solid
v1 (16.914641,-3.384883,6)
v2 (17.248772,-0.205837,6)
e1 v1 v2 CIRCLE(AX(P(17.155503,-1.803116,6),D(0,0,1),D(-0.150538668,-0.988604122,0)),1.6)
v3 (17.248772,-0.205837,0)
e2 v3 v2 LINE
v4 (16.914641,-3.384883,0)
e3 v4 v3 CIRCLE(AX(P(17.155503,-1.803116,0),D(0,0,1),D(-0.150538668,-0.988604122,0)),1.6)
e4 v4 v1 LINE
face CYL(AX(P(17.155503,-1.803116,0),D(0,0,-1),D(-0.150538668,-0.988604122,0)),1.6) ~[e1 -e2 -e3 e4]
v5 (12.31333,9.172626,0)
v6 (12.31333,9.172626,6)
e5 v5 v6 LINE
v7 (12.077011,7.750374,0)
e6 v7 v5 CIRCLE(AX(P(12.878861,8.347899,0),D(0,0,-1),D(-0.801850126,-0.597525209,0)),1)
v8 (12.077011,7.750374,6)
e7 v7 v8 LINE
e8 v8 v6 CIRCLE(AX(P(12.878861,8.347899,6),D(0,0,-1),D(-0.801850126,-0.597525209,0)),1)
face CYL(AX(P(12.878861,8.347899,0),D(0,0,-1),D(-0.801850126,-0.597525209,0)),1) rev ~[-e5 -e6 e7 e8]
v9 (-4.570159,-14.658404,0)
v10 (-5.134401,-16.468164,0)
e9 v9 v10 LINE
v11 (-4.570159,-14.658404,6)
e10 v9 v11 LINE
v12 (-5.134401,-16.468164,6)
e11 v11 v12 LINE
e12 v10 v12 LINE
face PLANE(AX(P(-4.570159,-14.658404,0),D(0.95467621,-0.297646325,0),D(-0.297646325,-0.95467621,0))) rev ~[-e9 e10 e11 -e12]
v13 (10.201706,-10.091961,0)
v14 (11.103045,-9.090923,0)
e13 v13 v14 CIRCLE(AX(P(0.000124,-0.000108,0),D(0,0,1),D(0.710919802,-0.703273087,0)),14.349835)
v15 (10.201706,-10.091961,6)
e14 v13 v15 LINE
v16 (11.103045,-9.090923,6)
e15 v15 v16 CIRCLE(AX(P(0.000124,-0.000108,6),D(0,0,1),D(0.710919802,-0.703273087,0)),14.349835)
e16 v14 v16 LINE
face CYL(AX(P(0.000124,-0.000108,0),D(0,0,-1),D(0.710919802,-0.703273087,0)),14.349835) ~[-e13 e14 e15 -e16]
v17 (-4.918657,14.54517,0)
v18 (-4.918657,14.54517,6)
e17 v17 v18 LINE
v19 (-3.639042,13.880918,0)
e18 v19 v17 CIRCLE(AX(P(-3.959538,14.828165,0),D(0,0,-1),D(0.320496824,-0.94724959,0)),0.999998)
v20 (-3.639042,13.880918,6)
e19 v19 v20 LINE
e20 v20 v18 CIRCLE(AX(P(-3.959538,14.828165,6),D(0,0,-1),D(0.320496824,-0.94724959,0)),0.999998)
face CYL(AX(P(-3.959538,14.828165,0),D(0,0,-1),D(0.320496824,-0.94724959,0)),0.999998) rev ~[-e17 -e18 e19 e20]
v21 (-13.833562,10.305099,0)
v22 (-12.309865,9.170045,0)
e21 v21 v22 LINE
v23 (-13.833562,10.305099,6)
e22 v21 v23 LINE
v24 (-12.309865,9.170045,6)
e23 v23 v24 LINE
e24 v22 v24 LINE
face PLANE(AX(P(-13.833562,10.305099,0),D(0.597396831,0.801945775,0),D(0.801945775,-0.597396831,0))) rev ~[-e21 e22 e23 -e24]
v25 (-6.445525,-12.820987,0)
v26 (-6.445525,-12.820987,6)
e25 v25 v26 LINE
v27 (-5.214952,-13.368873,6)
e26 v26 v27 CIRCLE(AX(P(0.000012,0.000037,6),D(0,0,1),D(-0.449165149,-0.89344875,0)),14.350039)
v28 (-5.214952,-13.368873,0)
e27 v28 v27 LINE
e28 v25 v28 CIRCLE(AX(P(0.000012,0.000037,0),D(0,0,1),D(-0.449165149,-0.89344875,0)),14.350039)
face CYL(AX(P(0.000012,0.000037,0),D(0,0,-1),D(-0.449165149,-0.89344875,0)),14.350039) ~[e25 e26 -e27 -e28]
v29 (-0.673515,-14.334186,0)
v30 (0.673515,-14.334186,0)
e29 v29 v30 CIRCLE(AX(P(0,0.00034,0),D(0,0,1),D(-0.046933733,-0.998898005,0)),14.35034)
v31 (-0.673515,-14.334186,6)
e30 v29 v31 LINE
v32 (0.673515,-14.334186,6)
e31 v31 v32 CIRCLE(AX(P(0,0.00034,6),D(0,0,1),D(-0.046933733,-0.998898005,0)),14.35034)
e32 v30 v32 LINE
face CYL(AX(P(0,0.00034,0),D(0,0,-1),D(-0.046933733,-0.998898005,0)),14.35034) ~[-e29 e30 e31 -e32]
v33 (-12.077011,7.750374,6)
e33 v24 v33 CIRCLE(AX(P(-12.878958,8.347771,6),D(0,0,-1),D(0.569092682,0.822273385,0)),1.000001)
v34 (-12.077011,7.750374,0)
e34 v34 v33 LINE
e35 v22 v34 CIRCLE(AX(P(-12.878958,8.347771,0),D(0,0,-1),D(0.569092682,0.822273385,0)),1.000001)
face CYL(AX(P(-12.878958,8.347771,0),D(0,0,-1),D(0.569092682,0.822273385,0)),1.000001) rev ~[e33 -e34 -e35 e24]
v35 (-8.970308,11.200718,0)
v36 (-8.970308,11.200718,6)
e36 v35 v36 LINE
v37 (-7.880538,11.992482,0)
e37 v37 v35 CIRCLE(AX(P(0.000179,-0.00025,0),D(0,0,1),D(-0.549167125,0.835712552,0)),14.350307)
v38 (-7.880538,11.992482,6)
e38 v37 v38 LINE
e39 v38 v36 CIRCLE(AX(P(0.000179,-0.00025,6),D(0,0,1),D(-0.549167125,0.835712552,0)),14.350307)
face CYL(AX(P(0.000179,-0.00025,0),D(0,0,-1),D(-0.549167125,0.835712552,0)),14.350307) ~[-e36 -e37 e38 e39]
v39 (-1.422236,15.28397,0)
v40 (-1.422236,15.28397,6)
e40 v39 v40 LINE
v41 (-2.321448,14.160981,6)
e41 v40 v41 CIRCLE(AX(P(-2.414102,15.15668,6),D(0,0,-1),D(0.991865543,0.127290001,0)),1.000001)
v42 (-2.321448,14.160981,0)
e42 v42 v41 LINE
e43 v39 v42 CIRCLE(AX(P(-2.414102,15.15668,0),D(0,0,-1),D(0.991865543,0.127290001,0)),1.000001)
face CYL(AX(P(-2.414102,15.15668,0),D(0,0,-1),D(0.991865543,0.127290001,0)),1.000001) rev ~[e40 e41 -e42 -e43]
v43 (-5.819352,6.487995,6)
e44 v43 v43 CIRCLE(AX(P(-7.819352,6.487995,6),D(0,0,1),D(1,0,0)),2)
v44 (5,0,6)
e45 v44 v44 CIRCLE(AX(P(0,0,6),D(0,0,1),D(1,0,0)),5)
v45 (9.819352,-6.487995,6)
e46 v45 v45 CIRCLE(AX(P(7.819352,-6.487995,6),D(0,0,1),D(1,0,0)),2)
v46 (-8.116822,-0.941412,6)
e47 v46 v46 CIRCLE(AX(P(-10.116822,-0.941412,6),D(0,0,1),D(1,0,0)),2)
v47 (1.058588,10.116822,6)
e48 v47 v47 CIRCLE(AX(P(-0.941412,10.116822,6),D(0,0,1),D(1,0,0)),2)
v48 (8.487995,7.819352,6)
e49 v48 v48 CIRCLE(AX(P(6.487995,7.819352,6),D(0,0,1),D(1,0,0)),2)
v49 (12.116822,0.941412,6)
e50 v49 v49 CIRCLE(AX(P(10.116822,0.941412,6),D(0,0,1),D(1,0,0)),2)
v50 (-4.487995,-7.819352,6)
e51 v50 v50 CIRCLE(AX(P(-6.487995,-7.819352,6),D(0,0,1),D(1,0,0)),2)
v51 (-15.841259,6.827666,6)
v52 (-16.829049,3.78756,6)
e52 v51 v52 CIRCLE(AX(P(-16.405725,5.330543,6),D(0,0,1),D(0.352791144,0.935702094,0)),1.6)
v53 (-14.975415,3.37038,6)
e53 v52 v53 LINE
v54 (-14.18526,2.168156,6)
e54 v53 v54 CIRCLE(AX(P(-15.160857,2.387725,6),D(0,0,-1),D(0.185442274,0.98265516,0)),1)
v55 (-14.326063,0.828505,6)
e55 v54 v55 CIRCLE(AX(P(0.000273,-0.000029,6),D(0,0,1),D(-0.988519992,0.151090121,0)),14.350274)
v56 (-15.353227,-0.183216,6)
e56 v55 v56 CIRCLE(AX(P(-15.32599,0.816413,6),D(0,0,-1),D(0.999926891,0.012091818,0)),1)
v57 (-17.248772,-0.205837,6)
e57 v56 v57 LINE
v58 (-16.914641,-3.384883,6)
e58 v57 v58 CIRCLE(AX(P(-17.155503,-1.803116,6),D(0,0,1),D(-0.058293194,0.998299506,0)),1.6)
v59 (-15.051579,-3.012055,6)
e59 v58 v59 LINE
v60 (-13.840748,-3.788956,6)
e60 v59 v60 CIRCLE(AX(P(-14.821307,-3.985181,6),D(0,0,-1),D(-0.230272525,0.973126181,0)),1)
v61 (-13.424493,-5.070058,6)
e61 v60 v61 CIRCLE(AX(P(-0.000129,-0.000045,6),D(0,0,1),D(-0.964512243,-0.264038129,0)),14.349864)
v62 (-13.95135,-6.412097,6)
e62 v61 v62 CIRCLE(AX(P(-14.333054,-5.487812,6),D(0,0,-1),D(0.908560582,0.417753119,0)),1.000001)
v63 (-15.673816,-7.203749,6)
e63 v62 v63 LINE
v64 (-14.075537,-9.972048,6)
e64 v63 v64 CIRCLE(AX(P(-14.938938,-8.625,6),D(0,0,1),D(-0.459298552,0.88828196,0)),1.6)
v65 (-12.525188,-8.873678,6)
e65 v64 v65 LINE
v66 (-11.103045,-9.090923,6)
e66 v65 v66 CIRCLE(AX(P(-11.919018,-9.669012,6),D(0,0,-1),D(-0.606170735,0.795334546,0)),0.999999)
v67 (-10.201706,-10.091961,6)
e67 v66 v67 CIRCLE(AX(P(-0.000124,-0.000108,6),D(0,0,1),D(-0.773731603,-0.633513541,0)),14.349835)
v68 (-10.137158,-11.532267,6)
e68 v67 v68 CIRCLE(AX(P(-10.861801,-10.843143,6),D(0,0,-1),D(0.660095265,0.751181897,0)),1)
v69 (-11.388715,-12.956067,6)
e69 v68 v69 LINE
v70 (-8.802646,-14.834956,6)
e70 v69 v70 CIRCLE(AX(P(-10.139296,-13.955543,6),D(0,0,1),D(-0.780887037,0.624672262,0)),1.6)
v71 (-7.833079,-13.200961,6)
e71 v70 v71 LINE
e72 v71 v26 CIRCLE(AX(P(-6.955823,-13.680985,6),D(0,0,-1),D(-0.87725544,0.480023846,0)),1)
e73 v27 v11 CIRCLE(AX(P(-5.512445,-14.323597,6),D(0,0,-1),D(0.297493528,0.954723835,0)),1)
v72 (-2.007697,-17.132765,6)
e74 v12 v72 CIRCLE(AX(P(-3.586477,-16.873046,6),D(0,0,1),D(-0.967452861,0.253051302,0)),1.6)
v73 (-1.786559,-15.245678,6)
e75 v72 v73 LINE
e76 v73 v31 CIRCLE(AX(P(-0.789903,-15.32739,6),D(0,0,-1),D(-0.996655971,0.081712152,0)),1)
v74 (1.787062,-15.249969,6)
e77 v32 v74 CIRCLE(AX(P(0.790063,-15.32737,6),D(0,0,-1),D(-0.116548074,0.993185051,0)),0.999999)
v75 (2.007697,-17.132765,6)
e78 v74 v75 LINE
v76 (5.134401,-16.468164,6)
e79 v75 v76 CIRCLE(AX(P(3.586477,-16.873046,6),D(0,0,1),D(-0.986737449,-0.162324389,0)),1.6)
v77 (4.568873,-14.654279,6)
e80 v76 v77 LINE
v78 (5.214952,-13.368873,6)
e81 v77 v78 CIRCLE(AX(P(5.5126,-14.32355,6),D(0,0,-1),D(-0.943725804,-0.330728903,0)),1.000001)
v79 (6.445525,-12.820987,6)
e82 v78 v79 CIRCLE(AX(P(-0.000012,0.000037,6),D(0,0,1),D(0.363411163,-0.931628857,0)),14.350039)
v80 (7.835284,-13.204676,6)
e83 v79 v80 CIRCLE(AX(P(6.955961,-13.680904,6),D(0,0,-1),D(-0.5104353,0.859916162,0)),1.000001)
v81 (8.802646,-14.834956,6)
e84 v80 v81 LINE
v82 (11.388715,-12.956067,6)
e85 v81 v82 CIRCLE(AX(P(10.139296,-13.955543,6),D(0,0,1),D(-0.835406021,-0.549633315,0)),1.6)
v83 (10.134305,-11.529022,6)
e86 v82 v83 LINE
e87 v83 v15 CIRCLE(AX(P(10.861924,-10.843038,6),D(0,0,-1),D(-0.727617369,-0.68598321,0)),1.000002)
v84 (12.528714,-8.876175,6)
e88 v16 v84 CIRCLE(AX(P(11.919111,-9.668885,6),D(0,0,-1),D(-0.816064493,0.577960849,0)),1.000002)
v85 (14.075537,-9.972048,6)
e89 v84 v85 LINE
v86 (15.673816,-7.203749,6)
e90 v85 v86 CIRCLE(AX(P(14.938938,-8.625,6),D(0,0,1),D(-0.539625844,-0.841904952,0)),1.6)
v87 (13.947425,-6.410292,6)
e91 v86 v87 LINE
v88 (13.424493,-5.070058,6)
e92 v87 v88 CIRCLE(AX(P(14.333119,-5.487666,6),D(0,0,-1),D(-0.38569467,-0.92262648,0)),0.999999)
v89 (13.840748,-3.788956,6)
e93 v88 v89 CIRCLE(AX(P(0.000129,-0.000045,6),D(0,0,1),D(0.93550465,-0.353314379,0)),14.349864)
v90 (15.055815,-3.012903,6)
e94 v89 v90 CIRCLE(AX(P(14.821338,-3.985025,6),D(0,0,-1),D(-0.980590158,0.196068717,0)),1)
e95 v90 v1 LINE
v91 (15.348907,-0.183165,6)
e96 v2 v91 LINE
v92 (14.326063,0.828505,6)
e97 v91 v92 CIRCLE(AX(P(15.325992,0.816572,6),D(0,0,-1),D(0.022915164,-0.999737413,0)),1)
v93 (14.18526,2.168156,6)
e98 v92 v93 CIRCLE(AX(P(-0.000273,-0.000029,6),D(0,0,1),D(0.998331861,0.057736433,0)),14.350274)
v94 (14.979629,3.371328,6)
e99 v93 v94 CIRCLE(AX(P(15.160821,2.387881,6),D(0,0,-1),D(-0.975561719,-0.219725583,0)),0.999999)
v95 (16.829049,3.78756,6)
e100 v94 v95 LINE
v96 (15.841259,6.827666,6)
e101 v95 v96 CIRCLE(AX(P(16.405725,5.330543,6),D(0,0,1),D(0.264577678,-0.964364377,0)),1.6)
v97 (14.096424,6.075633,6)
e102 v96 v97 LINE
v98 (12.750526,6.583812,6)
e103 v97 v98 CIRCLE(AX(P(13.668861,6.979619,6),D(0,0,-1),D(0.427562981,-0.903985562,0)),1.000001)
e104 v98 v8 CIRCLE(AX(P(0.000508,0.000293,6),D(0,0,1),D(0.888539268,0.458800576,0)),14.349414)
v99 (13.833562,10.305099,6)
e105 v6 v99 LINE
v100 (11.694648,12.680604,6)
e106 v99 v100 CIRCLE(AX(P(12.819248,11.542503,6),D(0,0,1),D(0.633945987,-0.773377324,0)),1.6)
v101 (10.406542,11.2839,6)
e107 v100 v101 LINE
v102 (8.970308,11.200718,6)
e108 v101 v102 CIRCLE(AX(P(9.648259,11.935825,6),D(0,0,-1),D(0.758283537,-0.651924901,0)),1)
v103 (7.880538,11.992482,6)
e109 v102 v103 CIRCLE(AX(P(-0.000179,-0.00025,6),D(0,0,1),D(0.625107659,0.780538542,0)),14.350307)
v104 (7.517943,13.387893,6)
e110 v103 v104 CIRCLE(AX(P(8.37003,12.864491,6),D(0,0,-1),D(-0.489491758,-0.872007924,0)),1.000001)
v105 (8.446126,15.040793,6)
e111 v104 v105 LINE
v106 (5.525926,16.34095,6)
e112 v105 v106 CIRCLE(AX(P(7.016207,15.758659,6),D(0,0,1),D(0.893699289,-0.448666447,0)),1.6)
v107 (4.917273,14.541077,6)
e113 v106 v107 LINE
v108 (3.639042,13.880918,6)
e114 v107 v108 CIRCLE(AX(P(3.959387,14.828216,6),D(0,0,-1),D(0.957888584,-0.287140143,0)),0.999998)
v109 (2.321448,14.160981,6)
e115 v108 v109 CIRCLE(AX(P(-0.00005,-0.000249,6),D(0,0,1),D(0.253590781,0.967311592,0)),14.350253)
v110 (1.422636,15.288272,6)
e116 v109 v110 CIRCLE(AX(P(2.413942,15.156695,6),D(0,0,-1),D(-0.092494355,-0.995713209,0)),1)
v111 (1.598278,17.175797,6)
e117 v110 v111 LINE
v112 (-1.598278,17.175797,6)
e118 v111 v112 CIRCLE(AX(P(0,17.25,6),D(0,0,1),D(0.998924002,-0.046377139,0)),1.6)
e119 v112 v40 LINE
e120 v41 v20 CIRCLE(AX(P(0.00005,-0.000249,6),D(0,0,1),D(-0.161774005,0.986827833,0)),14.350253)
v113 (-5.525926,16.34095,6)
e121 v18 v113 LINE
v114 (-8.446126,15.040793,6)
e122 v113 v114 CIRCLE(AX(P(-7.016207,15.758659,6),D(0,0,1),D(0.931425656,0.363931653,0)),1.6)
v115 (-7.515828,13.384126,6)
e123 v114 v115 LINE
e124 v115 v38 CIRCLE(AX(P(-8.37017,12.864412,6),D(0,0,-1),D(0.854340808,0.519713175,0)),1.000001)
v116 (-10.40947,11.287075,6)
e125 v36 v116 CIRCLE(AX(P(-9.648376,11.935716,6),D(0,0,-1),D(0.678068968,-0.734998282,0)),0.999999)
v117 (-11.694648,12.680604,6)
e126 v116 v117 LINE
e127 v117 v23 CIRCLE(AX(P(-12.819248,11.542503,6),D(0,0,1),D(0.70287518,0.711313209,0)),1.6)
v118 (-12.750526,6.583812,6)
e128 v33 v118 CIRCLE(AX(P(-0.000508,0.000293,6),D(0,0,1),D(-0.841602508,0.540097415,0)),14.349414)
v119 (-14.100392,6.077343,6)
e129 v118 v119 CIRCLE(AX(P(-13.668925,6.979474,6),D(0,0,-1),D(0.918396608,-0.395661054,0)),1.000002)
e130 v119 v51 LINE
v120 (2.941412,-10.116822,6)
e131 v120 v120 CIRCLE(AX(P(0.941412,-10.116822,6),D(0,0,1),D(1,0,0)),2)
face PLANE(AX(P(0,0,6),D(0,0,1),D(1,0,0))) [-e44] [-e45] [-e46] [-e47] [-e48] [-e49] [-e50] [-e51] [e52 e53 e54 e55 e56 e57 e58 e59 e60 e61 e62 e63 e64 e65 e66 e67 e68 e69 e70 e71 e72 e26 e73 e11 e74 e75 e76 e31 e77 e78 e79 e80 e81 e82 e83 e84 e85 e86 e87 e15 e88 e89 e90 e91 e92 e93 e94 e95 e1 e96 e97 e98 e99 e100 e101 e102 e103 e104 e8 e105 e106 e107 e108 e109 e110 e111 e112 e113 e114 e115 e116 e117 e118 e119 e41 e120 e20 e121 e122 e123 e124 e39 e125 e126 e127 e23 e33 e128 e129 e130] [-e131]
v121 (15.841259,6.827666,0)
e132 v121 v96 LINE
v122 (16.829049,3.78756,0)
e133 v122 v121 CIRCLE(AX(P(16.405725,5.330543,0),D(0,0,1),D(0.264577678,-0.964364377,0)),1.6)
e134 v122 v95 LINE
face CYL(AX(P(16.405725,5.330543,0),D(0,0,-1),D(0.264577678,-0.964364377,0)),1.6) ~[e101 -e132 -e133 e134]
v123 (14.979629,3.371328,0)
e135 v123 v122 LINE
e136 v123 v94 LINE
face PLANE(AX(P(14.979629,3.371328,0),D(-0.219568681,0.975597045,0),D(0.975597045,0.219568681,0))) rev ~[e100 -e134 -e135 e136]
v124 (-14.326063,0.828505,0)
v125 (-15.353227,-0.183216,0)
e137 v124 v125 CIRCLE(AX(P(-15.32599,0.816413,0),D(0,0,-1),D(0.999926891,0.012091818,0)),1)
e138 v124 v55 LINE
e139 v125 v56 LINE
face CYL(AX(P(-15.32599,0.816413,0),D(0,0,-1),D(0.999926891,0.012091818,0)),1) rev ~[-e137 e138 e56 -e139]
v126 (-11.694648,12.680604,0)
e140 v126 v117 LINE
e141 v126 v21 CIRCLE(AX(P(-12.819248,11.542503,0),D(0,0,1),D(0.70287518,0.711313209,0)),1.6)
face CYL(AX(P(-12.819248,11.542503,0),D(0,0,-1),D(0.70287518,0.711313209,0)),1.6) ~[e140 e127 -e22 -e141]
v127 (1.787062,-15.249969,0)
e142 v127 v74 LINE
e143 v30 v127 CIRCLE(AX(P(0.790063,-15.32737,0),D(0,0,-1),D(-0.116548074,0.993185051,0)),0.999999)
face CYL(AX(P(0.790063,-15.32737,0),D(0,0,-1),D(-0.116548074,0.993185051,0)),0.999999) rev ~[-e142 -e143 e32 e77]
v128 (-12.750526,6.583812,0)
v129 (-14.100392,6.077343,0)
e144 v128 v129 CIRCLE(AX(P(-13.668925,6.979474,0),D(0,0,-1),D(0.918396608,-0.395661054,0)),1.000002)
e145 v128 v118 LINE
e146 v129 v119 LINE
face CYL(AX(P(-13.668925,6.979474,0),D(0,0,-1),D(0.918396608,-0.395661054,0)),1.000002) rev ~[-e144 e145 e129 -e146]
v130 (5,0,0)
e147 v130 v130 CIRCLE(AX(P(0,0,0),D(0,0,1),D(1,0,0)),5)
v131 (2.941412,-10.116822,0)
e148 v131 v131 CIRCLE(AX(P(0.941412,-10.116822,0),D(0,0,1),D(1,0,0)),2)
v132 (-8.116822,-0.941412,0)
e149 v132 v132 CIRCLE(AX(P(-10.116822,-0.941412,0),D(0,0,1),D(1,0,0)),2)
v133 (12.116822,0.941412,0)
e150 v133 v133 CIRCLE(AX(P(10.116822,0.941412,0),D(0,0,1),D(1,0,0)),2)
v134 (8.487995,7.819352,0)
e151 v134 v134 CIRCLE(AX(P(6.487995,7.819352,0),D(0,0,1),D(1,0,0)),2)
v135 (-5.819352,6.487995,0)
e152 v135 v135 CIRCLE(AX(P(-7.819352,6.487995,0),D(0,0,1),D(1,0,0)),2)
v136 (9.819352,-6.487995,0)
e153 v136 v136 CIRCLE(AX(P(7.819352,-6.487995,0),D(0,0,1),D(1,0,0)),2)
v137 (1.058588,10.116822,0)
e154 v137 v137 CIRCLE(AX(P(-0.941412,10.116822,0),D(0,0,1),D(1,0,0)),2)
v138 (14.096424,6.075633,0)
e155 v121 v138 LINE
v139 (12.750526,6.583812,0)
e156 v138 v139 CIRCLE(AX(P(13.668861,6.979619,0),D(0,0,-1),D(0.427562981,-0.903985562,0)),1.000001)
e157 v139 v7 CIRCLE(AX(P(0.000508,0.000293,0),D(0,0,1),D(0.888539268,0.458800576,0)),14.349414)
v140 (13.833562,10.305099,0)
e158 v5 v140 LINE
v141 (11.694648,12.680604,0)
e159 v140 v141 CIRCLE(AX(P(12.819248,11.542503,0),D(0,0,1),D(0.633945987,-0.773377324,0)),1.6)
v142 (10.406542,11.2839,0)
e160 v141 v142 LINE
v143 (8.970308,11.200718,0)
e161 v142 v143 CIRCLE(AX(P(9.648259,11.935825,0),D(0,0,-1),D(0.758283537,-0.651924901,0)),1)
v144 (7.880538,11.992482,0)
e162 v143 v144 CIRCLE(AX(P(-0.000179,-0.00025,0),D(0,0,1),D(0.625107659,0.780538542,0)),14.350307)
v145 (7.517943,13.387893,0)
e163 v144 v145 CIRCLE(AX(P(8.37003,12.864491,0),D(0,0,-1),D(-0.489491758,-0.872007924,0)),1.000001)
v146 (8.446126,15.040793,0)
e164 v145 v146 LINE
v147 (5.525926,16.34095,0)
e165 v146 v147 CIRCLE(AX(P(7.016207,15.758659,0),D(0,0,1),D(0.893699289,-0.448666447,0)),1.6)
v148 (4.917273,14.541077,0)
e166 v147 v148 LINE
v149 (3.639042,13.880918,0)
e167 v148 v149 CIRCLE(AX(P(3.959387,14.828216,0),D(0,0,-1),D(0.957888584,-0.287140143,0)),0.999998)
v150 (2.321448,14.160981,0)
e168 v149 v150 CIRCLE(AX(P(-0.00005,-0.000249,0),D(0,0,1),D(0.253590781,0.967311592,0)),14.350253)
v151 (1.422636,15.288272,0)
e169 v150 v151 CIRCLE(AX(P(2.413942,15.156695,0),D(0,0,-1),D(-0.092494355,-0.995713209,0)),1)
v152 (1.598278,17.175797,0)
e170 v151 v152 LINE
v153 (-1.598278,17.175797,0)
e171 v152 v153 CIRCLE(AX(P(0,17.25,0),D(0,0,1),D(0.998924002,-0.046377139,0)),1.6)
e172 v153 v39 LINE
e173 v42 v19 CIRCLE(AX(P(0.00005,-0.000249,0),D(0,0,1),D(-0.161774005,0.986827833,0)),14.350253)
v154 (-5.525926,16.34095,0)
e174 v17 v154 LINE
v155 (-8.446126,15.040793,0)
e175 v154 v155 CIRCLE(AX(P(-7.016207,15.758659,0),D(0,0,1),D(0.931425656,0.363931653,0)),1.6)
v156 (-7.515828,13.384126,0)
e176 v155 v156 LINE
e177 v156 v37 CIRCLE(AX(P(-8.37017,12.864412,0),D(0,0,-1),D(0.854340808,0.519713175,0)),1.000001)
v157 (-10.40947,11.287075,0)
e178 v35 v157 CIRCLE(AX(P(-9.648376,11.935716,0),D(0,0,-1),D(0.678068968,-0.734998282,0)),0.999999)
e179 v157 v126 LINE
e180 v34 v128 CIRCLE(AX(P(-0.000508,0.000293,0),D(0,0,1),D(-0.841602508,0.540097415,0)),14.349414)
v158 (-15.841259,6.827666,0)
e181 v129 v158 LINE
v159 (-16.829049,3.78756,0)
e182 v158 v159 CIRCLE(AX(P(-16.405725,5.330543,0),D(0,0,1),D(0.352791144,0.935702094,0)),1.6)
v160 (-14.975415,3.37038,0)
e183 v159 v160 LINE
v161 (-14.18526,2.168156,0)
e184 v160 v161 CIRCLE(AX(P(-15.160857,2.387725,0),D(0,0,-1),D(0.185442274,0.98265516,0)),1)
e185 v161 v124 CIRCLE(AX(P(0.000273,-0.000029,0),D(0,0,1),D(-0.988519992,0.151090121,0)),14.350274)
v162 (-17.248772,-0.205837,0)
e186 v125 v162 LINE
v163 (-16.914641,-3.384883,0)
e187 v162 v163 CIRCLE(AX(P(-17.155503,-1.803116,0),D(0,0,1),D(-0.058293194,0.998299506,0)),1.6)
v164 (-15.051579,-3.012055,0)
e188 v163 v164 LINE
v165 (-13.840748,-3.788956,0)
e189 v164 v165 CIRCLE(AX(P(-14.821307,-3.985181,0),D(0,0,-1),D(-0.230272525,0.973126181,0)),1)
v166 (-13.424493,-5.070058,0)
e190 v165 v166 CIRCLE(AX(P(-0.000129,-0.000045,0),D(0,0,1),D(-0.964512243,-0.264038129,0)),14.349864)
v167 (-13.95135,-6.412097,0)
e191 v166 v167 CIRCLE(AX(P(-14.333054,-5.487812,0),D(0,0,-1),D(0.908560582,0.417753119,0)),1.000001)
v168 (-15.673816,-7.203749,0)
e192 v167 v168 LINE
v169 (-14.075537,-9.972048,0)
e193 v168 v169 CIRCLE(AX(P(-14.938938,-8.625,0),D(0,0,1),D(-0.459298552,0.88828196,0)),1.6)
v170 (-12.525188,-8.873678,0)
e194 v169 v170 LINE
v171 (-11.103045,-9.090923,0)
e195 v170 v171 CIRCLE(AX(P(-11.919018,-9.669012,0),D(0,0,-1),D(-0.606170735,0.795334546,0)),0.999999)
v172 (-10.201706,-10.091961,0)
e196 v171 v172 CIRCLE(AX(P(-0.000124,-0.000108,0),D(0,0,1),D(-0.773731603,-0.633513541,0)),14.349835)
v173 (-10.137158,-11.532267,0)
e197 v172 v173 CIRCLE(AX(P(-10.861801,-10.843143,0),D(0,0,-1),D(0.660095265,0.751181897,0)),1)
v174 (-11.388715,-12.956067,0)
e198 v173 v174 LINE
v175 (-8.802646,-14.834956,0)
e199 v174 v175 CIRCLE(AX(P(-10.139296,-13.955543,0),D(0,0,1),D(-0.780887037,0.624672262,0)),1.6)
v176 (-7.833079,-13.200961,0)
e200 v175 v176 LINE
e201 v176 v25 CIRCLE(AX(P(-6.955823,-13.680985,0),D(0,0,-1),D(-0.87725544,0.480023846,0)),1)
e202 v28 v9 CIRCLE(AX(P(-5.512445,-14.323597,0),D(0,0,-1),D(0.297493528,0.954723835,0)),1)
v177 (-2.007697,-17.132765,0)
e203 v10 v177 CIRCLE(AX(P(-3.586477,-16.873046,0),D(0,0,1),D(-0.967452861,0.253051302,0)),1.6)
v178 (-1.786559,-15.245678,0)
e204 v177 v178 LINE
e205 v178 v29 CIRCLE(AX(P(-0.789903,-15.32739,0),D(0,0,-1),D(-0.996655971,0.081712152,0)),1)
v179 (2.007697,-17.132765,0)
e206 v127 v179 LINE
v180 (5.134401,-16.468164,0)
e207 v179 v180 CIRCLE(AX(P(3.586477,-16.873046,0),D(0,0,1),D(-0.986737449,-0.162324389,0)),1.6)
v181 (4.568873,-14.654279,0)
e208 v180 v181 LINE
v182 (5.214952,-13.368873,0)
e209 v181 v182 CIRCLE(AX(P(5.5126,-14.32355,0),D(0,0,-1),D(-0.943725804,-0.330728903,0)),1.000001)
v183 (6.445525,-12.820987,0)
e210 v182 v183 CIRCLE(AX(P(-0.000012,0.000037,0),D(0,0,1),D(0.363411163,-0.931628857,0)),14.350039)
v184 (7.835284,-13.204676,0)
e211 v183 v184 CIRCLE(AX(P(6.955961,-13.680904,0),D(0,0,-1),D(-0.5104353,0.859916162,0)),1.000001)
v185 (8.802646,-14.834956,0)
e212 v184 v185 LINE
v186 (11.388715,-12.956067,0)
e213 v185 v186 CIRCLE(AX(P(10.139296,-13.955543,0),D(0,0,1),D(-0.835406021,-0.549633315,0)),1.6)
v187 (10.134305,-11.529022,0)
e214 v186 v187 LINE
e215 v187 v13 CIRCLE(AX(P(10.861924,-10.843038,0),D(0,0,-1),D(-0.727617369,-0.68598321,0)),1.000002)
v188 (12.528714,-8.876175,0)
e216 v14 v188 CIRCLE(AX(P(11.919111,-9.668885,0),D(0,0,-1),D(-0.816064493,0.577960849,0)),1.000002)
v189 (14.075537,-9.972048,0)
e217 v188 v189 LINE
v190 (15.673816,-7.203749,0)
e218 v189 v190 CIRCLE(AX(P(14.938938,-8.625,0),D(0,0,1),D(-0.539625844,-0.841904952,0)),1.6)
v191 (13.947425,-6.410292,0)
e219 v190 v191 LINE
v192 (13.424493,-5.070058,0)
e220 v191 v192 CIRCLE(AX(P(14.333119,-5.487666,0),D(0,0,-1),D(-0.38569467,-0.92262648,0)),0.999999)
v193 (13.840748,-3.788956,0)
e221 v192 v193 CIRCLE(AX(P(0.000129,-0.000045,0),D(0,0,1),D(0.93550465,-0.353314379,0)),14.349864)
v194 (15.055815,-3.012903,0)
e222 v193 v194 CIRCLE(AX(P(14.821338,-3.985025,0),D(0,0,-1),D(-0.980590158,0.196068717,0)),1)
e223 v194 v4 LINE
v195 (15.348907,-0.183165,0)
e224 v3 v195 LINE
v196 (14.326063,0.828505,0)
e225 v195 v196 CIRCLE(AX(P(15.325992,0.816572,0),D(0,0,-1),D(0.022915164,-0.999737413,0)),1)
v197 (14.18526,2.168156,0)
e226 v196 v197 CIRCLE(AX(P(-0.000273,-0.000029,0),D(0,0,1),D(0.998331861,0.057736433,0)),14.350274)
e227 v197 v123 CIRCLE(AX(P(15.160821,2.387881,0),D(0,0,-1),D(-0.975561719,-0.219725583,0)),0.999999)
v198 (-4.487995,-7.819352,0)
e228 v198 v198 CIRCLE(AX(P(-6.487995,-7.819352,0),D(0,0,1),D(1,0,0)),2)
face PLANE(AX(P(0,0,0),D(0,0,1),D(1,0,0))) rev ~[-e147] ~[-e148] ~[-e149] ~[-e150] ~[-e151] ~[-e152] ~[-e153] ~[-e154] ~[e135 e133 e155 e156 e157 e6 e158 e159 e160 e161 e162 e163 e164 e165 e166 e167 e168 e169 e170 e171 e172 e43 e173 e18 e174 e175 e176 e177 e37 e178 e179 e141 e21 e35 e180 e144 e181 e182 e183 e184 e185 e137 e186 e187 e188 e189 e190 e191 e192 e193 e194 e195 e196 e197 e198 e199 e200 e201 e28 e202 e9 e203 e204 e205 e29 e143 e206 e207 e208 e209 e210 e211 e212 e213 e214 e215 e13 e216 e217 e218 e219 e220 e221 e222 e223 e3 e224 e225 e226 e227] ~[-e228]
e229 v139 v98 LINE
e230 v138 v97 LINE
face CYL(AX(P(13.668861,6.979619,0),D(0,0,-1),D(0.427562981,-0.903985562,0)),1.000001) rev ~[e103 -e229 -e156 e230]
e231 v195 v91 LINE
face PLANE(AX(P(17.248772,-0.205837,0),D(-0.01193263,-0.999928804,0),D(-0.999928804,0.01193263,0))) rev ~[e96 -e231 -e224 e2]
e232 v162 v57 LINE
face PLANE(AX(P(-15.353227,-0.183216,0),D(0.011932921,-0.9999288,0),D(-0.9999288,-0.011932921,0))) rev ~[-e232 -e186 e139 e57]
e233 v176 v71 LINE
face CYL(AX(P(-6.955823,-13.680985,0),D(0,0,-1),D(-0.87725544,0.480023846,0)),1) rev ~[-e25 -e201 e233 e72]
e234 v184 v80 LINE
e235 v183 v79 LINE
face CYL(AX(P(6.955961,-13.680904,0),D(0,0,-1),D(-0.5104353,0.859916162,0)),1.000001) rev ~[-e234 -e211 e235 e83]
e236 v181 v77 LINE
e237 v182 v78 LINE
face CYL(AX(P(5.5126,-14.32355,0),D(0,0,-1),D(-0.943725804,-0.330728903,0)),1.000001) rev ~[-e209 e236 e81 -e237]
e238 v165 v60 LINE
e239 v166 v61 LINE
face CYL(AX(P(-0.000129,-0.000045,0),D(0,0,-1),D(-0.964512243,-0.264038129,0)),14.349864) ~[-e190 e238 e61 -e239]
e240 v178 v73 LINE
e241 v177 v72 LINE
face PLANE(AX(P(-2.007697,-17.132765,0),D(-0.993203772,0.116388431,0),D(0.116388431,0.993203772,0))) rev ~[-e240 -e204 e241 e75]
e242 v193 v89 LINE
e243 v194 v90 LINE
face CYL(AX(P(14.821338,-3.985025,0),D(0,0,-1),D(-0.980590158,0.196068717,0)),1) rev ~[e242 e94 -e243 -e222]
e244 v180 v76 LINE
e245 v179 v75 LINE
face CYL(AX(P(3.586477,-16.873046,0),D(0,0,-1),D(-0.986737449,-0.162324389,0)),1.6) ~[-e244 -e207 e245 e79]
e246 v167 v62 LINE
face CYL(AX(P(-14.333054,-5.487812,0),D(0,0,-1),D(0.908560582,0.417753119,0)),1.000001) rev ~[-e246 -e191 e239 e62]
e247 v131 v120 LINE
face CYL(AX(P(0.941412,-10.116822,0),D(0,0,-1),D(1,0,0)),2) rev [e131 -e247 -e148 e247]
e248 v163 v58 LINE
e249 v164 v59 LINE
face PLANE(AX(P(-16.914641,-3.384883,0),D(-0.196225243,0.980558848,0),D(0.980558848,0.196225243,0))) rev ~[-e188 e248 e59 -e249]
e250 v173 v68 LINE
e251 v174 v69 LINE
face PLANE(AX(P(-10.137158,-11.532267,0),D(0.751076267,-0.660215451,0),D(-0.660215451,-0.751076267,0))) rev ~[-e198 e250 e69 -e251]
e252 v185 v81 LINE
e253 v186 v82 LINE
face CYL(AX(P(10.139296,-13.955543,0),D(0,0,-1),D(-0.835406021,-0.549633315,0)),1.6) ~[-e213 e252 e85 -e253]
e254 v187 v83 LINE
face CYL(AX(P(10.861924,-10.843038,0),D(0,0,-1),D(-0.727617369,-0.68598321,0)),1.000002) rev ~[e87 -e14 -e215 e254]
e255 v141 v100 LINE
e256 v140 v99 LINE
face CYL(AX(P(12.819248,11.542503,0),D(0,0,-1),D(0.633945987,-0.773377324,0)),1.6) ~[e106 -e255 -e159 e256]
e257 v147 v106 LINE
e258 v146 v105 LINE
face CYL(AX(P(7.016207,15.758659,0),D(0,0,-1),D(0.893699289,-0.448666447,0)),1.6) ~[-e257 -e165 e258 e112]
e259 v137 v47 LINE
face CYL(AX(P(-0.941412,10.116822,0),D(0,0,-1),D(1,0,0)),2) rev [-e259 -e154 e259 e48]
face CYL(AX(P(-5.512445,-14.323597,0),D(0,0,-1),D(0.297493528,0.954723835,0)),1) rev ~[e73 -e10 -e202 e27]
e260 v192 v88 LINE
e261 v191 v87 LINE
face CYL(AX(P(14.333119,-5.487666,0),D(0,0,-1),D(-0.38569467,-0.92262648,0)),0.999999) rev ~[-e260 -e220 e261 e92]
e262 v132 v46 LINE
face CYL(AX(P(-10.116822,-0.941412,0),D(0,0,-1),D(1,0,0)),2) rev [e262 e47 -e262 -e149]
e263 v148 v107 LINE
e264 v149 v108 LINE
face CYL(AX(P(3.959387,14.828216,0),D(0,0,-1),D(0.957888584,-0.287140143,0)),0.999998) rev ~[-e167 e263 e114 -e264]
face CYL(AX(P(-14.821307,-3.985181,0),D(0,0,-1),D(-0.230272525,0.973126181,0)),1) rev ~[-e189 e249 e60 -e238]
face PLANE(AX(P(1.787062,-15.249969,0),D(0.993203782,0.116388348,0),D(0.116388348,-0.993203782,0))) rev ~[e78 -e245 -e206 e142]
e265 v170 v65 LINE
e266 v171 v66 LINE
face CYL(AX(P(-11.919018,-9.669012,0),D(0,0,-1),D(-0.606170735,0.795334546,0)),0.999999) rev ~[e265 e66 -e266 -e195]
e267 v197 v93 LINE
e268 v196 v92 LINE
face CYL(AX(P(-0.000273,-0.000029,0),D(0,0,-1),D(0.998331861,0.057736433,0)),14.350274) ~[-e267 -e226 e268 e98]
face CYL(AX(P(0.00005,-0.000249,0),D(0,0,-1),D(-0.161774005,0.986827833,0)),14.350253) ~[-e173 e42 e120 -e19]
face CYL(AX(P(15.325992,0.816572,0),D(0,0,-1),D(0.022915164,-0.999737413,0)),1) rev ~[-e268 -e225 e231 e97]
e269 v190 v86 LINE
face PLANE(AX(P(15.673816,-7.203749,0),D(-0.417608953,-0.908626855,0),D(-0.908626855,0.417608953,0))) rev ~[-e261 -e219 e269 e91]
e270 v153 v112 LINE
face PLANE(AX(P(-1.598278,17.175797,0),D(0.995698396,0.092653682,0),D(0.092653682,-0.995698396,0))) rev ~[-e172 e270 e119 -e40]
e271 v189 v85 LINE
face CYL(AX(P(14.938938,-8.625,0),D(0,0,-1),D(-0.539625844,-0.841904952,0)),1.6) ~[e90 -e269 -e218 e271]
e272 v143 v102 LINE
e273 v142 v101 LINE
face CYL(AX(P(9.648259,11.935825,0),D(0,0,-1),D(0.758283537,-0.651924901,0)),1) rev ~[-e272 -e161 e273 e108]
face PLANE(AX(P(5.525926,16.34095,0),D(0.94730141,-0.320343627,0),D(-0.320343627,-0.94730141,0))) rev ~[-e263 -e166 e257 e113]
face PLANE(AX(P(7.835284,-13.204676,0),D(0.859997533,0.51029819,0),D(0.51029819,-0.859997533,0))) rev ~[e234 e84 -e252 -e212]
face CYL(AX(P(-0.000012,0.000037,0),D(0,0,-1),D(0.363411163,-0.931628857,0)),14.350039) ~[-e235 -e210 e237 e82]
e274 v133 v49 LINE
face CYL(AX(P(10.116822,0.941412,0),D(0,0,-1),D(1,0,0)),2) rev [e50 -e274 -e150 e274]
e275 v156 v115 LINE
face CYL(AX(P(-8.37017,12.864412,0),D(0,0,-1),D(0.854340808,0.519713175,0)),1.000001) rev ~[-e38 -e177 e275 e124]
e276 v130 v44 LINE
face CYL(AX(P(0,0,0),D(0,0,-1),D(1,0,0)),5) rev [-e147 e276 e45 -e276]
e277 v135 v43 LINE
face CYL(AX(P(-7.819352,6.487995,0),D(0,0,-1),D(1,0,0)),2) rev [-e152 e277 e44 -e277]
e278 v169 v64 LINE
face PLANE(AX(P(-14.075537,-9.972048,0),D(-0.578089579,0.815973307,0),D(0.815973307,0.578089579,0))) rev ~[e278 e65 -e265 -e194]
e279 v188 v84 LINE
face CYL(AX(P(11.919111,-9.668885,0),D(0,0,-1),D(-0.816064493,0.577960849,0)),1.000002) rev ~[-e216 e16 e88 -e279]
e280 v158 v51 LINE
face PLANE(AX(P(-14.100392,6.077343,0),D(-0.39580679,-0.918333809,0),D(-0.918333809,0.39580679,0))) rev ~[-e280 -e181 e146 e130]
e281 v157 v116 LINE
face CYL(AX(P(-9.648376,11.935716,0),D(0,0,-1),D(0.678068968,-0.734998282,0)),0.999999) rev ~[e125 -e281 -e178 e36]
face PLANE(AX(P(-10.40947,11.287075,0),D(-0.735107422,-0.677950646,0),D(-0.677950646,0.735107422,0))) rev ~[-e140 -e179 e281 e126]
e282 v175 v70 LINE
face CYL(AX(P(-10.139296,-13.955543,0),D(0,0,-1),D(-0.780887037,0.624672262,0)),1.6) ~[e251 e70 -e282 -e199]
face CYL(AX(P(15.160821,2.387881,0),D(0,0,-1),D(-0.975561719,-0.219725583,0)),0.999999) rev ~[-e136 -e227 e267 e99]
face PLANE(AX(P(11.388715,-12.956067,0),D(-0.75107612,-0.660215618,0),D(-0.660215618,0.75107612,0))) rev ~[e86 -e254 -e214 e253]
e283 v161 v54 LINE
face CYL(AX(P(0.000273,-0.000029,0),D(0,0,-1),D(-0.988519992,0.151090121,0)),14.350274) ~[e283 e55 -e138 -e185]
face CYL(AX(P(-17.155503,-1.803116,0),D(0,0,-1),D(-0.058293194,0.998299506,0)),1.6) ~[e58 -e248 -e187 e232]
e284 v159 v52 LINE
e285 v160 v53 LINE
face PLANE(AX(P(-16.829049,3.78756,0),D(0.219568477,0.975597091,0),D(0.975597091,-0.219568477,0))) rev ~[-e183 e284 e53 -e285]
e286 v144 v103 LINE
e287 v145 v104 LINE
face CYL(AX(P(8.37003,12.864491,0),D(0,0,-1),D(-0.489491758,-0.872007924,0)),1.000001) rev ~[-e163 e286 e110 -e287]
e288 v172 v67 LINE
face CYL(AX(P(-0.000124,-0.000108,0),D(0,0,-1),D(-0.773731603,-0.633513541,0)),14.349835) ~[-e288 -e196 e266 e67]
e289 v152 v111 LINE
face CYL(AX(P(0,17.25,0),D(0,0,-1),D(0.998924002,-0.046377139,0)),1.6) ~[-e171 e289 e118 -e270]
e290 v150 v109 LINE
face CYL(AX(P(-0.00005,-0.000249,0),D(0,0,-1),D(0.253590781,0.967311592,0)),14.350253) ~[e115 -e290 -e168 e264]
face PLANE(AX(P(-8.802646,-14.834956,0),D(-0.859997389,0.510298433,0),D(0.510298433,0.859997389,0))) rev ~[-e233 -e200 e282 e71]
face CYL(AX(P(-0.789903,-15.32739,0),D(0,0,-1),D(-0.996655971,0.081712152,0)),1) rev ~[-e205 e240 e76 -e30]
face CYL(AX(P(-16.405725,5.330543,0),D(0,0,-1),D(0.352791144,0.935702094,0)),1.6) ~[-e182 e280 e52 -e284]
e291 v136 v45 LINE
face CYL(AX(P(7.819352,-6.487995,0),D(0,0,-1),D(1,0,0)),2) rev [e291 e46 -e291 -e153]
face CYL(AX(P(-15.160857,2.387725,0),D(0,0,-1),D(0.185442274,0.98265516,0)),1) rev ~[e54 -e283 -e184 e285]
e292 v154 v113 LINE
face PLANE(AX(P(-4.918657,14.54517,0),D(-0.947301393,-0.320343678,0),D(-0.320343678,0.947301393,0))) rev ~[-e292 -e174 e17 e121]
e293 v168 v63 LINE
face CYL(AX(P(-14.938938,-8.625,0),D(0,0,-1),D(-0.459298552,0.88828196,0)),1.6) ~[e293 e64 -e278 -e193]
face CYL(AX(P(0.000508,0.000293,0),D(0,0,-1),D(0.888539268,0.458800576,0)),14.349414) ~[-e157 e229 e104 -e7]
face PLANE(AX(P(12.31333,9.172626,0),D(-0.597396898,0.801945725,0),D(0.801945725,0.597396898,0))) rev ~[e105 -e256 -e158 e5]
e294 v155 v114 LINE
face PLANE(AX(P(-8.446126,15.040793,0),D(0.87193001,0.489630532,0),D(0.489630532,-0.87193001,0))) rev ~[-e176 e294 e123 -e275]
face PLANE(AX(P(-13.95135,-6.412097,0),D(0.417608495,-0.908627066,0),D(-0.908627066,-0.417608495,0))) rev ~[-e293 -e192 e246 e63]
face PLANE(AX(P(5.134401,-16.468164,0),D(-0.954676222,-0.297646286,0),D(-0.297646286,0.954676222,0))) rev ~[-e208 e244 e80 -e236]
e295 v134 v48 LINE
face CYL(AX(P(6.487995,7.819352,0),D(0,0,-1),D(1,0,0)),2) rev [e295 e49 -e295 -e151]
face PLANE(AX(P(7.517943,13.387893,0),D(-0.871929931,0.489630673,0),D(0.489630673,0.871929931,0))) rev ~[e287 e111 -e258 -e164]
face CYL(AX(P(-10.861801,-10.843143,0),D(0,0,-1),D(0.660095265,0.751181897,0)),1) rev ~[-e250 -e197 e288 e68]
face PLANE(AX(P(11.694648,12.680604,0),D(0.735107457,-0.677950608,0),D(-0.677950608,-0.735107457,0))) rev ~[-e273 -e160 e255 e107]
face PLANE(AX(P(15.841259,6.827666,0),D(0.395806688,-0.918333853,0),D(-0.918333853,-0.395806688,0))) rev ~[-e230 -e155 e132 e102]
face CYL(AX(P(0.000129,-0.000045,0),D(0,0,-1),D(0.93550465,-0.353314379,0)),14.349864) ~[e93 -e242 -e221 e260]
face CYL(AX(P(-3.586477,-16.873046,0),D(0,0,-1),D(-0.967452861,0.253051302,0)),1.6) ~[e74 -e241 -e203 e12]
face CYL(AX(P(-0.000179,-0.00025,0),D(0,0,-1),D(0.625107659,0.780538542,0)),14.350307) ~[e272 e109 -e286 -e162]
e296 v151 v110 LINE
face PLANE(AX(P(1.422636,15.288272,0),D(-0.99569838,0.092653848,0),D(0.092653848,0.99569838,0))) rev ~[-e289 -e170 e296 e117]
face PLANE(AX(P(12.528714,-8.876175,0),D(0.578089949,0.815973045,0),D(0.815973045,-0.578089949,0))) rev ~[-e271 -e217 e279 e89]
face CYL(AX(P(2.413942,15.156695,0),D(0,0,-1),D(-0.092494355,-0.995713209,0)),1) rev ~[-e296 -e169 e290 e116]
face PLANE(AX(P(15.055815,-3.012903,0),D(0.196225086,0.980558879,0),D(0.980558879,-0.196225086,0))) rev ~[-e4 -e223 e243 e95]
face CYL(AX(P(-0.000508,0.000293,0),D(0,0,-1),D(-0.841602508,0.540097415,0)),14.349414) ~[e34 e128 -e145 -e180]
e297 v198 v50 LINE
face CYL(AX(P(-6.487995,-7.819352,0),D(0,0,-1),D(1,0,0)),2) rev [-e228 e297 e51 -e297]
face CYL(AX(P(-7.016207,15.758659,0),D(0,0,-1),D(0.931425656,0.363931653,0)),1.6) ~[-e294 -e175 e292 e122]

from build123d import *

# Parameters (mm, degrees)
F0_R     = 2
F0_R_2   = 5
F1_DEPTH = 6


with BuildPart() as f1:
    # F0 (on Top) → F1 (new body)
    with BuildSketch(Plane.XY):
        with BuildLine():
            Line((1.422636, 15.288272), (1.598278, 17.175797))
            ThreePointArc((1.598278, 17.175797), (0, 18.85), (-1.598278, 17.175797))
            Line((-1.598278, 17.175797), (-1.422236, 15.28397))
            ThreePointArc((-1.422236, 15.28397), (-1.633511, 14.531637), (-2.321448, 14.160981))
            ThreePointArc((-2.321448, 14.160981), (-2.983533, 14.036418), (-3.639042, 13.880918))
            ThreePointArc((-3.639042, 13.880918), (-4.420263, 13.940625), (-4.918657, 14.54517))
            Line((-4.918657, 14.54517), (-5.525926, 16.34095))
            ThreePointArc((-5.525926, 16.34095), (-7.666986, 17.220332), (-8.446126, 15.040793))
            Line((-8.446126, 15.040793), (-7.515828, 13.384126))
            ThreePointArc((-7.515828, 13.384126), (-7.402836, 12.610902), (-7.880538, 11.992482))
            ThreePointArc((-7.880538, 11.992482), (-8.434718, 11.609394), (-8.970308, 11.200718))
            ThreePointArc((-8.970308, 11.200718), (-9.708274, 10.937512), (-10.40947, 11.287075))
            Line((-10.40947, 11.287075), (-11.694648, 12.680604))
            ThreePointArc((-11.694648, 12.680604), (-14.00828, 12.613112), (-13.833562, 10.305099))
            Line((-13.833562, 10.305099), (-12.309865, 9.170045))
            ThreePointArc((-12.309865, 9.170045), (-11.892143, 8.509628), (-12.077011, 7.750374))
            ThreePointArc((-12.077011, 7.750374), (-12.427465, 7.175), (-12.750526, 6.583812))
            ThreePointArc((-12.750526, 6.583812), (-13.317637, 6.043204), (-14.100392, 6.077343))
            Line((-14.100392, 6.077343), (-15.841259, 6.827666))
            ThreePointArc((-15.841259, 6.827666), (-17.927415, 5.82497), (-16.829049, 3.78756))
            Line((-16.829049, 3.78756), (-14.975415, 3.37038))
            ThreePointArc((-14.975415, 3.37038), (-14.32519, 2.936961), (-14.18526, 2.168156))
            ThreePointArc((-14.18526, 2.168156), (-14.271389, 1.499983), (-14.326063, 0.828505))
            ThreePointArc((-14.326063, 0.828505), (-14.624259, 0.103971), (-15.353227, -0.183216))
            Line((-15.353227, -0.183216), (-17.248772, -0.205837))
            ThreePointArc((-17.248772, -0.205837), (-18.746738, -1.970362), (-16.914641, -3.384883))
            Line((-16.914641, -3.384883), (-15.051579, -3.012055))
            ThreePointArc((-15.051579, -3.012055), (-14.281282, -3.143532), (-13.840748, -3.788956))
            ThreePointArc((-13.840748, -3.788956), (-13.647661, -4.434394), (-13.424493, -5.070058))
            ThreePointArc((-13.424493, -5.070058), (-13.402214, -5.85324), (-13.95135, -6.412097))
            Line((-13.95135, -6.412097), (-15.673816, -7.203749))
            ThreePointArc((-15.673816, -7.203749), (-16.324579, -9.425), (-14.075537, -9.972048))
            Line((-14.075537, -9.972048), (-12.525188, -8.873678))
            ThreePointArc((-12.525188, -8.873678), (-11.768011, -8.68048), (-11.103045, -9.090923))
            ThreePointArc((-11.103045, -9.090923), (-10.664128, -9.602024), (-10.201706, -10.091961))
            ThreePointArc((-10.201706, -10.091961), (-9.862804, -10.798372), (-10.137158, -11.532267))
            Line((-10.137158, -11.532267), (-11.388715, -12.956067))
            ThreePointArc((-11.388715, -12.956067), (-11.079752, -15.24997), (-8.802646, -14.834956))
            Line((-8.802646, -14.834956), (-7.833079, -13.200961))
            ThreePointArc((-7.833079, -13.200961), (-7.219944, -12.716495), (-6.445525, -12.820987))
            ThreePointArc((-6.445525, -12.820987), (-5.836671, -13.109377), (-5.214952, -13.368873))
            ThreePointArc((-5.214952, -13.368873), (-4.618026, -13.876368), (-4.570159, -14.658404))
            Line((-4.570159, -14.658404), (-5.134401, -16.468164))
            ThreePointArc((-5.134401, -16.468164), (-3.919135, -18.438082), (-2.007697, -17.132765))
            Line((-2.007697, -17.132765), (-1.786559, -15.245678))
            ThreePointArc((-1.786559, -15.245678), (-1.423482, -14.553712), (-0.673515, -14.334186))
            ThreePointArc((-0.673515, -14.334186), (0, -14.35), (0.673515, -14.334186))
            ThreePointArc((0.673515, -14.334186), (1.42525, -14.555013), (1.787062, -15.249969))
            Line((1.787062, -15.249969), (2.007697, -17.132765))
            ThreePointArc((2.007697, -17.132765), (3.919135, -18.438082), (5.134401, -16.468164))
            Line((5.134401, -16.468164), (4.568873, -14.654279))
            ThreePointArc((4.568873, -14.654279), (4.619112, -13.87446), (5.214952, -13.368873))
            ThreePointArc((5.214952, -13.368873), (5.836671, -13.109377), (6.445525, -12.820987))
            ThreePointArc((6.445525, -12.820987), (7.222088, -12.716965), (7.835284, -13.204676))
            Line((7.835284, -13.204676), (8.802646, -14.834956))
            ThreePointArc((8.802646, -14.834956), (11.079752, -15.24997), (11.388715, -12.956067))
            Line((11.388715, -12.956067), (10.134305, -11.529022))
            ThreePointArc((10.134305, -11.529022), (9.86302, -10.796187), (10.201706, -10.091961))
            ThreePointArc((10.201706, -10.091961), (10.664128, -9.602024), (11.103045, -9.090923))
            ThreePointArc((11.103045, -9.090923), (11.770162, -8.680038), (12.528714, -8.876175))
            Line((12.528714, -8.876175), (14.075537, -9.972048))
            ThreePointArc((14.075537, -9.972048), (16.324579, -9.425), (15.673816, -7.203749))
            Line((15.673816, -7.203749), (13.947425, -6.410292))
            ThreePointArc((13.947425, -6.410292), (13.401522, -5.851156), (13.424493, -5.070058))
            ThreePointArc((13.424493, -5.070058), (13.647661, -4.434394), (13.840748, -3.788956))
            ThreePointArc((13.840748, -3.788956), (14.283067, -3.142253), (15.055815, -3.012903))
            Line((15.055815, -3.012903), (16.914641, -3.384883))
            ThreePointArc((16.914641, -3.384883), (18.746738, -1.970362), (17.248772, -0.205837))
            Line((17.248772, -0.205837), (15.348907, -0.183165))
            ThreePointArc((15.348907, -0.183165), (14.622779, 0.105593), (14.326063, 0.828505))
            ThreePointArc((14.326063, 0.828505), (14.271389, 1.499983), (14.18526, 2.168156))
            ThreePointArc((14.18526, 2.168156), (14.3263, 2.938856), (14.979629, 3.371328))
            Line((14.979629, 3.371328), (16.829049, 3.78756))
            ThreePointArc((16.829049, 3.78756), (17.927415, 5.82497), (15.841259, 6.827666))
            Line((15.841259, 6.827666), (14.096424, 6.075633))
            ThreePointArc((14.096424, 6.075633), (13.315625, 6.044084), (12.750526, 6.583812))
            ThreePointArc((12.750526, 6.583812), (12.427465, 7.175), (12.077011, 7.750374))
            ThreePointArc((12.077011, 7.750374), (11.892386, 8.51181), (12.31333, 9.172626))
            Line((12.31333, 9.172626), (13.833562, 10.305099))
            ThreePointArc((13.833562, 10.305099), (14.00828, 12.613112), (11.694648, 12.680604))
            Line((11.694648, 12.680604), (10.406542, 11.2839))
            ThreePointArc((10.406542, 11.2839), (9.706078, 10.937498), (8.970308, 11.200718))
            ThreePointArc((8.970308, 11.200718), (8.434718, 11.609394), (7.880538, 11.992482))
            ThreePointArc((7.880538, 11.992482), (7.402171, 12.612994), (7.517943, 13.387893))
            Line((7.517943, 13.387893), (8.446126, 15.040793))
            ThreePointArc((8.446126, 15.040793), (7.666986, 17.220332), (5.525926, 16.34095))
            Line((5.525926, 16.34095), (4.917273, 14.541077))
            ThreePointArc((4.917273, 14.541077), (4.418263, 13.939719), (3.639042, 13.880918))
            ThreePointArc((3.639042, 13.880918), (2.983533, 14.036418), (2.321448, 14.160981))
            ThreePointArc((2.321448, 14.160981), (1.632052, 14.533278), (1.422636, 15.288272))
        make_face()
        with Locations((-10.116822, -0.941412)):
            Circle(F0_R, mode=Mode.SUBTRACT)
        with Locations((-6.487995, -7.819352)):
            Circle(F0_R, mode=Mode.SUBTRACT)
        with Locations((0.941412, -10.116822)):
            Circle(F0_R, mode=Mode.SUBTRACT)
        with Locations((7.819352, -6.487995)):
            Circle(F0_R, mode=Mode.SUBTRACT)
        Circle(F0_R_2, mode=Mode.SUBTRACT)
        with Locations((-7.819352, 6.487995)):
            Circle(F0_R, mode=Mode.SUBTRACT)
        with Locations((-0.941412, 10.116822)):
            Circle(F0_R, mode=Mode.SUBTRACT)
        with Locations((6.487995, 7.819352)):
            Circle(F0_R, mode=Mode.SUBTRACT)
        with Locations((10.116822, 0.941412)):
            Circle(F0_R, mode=Mode.SUBTRACT)
    extrude(amount=F1_DEPTH)


solid = f1.part
